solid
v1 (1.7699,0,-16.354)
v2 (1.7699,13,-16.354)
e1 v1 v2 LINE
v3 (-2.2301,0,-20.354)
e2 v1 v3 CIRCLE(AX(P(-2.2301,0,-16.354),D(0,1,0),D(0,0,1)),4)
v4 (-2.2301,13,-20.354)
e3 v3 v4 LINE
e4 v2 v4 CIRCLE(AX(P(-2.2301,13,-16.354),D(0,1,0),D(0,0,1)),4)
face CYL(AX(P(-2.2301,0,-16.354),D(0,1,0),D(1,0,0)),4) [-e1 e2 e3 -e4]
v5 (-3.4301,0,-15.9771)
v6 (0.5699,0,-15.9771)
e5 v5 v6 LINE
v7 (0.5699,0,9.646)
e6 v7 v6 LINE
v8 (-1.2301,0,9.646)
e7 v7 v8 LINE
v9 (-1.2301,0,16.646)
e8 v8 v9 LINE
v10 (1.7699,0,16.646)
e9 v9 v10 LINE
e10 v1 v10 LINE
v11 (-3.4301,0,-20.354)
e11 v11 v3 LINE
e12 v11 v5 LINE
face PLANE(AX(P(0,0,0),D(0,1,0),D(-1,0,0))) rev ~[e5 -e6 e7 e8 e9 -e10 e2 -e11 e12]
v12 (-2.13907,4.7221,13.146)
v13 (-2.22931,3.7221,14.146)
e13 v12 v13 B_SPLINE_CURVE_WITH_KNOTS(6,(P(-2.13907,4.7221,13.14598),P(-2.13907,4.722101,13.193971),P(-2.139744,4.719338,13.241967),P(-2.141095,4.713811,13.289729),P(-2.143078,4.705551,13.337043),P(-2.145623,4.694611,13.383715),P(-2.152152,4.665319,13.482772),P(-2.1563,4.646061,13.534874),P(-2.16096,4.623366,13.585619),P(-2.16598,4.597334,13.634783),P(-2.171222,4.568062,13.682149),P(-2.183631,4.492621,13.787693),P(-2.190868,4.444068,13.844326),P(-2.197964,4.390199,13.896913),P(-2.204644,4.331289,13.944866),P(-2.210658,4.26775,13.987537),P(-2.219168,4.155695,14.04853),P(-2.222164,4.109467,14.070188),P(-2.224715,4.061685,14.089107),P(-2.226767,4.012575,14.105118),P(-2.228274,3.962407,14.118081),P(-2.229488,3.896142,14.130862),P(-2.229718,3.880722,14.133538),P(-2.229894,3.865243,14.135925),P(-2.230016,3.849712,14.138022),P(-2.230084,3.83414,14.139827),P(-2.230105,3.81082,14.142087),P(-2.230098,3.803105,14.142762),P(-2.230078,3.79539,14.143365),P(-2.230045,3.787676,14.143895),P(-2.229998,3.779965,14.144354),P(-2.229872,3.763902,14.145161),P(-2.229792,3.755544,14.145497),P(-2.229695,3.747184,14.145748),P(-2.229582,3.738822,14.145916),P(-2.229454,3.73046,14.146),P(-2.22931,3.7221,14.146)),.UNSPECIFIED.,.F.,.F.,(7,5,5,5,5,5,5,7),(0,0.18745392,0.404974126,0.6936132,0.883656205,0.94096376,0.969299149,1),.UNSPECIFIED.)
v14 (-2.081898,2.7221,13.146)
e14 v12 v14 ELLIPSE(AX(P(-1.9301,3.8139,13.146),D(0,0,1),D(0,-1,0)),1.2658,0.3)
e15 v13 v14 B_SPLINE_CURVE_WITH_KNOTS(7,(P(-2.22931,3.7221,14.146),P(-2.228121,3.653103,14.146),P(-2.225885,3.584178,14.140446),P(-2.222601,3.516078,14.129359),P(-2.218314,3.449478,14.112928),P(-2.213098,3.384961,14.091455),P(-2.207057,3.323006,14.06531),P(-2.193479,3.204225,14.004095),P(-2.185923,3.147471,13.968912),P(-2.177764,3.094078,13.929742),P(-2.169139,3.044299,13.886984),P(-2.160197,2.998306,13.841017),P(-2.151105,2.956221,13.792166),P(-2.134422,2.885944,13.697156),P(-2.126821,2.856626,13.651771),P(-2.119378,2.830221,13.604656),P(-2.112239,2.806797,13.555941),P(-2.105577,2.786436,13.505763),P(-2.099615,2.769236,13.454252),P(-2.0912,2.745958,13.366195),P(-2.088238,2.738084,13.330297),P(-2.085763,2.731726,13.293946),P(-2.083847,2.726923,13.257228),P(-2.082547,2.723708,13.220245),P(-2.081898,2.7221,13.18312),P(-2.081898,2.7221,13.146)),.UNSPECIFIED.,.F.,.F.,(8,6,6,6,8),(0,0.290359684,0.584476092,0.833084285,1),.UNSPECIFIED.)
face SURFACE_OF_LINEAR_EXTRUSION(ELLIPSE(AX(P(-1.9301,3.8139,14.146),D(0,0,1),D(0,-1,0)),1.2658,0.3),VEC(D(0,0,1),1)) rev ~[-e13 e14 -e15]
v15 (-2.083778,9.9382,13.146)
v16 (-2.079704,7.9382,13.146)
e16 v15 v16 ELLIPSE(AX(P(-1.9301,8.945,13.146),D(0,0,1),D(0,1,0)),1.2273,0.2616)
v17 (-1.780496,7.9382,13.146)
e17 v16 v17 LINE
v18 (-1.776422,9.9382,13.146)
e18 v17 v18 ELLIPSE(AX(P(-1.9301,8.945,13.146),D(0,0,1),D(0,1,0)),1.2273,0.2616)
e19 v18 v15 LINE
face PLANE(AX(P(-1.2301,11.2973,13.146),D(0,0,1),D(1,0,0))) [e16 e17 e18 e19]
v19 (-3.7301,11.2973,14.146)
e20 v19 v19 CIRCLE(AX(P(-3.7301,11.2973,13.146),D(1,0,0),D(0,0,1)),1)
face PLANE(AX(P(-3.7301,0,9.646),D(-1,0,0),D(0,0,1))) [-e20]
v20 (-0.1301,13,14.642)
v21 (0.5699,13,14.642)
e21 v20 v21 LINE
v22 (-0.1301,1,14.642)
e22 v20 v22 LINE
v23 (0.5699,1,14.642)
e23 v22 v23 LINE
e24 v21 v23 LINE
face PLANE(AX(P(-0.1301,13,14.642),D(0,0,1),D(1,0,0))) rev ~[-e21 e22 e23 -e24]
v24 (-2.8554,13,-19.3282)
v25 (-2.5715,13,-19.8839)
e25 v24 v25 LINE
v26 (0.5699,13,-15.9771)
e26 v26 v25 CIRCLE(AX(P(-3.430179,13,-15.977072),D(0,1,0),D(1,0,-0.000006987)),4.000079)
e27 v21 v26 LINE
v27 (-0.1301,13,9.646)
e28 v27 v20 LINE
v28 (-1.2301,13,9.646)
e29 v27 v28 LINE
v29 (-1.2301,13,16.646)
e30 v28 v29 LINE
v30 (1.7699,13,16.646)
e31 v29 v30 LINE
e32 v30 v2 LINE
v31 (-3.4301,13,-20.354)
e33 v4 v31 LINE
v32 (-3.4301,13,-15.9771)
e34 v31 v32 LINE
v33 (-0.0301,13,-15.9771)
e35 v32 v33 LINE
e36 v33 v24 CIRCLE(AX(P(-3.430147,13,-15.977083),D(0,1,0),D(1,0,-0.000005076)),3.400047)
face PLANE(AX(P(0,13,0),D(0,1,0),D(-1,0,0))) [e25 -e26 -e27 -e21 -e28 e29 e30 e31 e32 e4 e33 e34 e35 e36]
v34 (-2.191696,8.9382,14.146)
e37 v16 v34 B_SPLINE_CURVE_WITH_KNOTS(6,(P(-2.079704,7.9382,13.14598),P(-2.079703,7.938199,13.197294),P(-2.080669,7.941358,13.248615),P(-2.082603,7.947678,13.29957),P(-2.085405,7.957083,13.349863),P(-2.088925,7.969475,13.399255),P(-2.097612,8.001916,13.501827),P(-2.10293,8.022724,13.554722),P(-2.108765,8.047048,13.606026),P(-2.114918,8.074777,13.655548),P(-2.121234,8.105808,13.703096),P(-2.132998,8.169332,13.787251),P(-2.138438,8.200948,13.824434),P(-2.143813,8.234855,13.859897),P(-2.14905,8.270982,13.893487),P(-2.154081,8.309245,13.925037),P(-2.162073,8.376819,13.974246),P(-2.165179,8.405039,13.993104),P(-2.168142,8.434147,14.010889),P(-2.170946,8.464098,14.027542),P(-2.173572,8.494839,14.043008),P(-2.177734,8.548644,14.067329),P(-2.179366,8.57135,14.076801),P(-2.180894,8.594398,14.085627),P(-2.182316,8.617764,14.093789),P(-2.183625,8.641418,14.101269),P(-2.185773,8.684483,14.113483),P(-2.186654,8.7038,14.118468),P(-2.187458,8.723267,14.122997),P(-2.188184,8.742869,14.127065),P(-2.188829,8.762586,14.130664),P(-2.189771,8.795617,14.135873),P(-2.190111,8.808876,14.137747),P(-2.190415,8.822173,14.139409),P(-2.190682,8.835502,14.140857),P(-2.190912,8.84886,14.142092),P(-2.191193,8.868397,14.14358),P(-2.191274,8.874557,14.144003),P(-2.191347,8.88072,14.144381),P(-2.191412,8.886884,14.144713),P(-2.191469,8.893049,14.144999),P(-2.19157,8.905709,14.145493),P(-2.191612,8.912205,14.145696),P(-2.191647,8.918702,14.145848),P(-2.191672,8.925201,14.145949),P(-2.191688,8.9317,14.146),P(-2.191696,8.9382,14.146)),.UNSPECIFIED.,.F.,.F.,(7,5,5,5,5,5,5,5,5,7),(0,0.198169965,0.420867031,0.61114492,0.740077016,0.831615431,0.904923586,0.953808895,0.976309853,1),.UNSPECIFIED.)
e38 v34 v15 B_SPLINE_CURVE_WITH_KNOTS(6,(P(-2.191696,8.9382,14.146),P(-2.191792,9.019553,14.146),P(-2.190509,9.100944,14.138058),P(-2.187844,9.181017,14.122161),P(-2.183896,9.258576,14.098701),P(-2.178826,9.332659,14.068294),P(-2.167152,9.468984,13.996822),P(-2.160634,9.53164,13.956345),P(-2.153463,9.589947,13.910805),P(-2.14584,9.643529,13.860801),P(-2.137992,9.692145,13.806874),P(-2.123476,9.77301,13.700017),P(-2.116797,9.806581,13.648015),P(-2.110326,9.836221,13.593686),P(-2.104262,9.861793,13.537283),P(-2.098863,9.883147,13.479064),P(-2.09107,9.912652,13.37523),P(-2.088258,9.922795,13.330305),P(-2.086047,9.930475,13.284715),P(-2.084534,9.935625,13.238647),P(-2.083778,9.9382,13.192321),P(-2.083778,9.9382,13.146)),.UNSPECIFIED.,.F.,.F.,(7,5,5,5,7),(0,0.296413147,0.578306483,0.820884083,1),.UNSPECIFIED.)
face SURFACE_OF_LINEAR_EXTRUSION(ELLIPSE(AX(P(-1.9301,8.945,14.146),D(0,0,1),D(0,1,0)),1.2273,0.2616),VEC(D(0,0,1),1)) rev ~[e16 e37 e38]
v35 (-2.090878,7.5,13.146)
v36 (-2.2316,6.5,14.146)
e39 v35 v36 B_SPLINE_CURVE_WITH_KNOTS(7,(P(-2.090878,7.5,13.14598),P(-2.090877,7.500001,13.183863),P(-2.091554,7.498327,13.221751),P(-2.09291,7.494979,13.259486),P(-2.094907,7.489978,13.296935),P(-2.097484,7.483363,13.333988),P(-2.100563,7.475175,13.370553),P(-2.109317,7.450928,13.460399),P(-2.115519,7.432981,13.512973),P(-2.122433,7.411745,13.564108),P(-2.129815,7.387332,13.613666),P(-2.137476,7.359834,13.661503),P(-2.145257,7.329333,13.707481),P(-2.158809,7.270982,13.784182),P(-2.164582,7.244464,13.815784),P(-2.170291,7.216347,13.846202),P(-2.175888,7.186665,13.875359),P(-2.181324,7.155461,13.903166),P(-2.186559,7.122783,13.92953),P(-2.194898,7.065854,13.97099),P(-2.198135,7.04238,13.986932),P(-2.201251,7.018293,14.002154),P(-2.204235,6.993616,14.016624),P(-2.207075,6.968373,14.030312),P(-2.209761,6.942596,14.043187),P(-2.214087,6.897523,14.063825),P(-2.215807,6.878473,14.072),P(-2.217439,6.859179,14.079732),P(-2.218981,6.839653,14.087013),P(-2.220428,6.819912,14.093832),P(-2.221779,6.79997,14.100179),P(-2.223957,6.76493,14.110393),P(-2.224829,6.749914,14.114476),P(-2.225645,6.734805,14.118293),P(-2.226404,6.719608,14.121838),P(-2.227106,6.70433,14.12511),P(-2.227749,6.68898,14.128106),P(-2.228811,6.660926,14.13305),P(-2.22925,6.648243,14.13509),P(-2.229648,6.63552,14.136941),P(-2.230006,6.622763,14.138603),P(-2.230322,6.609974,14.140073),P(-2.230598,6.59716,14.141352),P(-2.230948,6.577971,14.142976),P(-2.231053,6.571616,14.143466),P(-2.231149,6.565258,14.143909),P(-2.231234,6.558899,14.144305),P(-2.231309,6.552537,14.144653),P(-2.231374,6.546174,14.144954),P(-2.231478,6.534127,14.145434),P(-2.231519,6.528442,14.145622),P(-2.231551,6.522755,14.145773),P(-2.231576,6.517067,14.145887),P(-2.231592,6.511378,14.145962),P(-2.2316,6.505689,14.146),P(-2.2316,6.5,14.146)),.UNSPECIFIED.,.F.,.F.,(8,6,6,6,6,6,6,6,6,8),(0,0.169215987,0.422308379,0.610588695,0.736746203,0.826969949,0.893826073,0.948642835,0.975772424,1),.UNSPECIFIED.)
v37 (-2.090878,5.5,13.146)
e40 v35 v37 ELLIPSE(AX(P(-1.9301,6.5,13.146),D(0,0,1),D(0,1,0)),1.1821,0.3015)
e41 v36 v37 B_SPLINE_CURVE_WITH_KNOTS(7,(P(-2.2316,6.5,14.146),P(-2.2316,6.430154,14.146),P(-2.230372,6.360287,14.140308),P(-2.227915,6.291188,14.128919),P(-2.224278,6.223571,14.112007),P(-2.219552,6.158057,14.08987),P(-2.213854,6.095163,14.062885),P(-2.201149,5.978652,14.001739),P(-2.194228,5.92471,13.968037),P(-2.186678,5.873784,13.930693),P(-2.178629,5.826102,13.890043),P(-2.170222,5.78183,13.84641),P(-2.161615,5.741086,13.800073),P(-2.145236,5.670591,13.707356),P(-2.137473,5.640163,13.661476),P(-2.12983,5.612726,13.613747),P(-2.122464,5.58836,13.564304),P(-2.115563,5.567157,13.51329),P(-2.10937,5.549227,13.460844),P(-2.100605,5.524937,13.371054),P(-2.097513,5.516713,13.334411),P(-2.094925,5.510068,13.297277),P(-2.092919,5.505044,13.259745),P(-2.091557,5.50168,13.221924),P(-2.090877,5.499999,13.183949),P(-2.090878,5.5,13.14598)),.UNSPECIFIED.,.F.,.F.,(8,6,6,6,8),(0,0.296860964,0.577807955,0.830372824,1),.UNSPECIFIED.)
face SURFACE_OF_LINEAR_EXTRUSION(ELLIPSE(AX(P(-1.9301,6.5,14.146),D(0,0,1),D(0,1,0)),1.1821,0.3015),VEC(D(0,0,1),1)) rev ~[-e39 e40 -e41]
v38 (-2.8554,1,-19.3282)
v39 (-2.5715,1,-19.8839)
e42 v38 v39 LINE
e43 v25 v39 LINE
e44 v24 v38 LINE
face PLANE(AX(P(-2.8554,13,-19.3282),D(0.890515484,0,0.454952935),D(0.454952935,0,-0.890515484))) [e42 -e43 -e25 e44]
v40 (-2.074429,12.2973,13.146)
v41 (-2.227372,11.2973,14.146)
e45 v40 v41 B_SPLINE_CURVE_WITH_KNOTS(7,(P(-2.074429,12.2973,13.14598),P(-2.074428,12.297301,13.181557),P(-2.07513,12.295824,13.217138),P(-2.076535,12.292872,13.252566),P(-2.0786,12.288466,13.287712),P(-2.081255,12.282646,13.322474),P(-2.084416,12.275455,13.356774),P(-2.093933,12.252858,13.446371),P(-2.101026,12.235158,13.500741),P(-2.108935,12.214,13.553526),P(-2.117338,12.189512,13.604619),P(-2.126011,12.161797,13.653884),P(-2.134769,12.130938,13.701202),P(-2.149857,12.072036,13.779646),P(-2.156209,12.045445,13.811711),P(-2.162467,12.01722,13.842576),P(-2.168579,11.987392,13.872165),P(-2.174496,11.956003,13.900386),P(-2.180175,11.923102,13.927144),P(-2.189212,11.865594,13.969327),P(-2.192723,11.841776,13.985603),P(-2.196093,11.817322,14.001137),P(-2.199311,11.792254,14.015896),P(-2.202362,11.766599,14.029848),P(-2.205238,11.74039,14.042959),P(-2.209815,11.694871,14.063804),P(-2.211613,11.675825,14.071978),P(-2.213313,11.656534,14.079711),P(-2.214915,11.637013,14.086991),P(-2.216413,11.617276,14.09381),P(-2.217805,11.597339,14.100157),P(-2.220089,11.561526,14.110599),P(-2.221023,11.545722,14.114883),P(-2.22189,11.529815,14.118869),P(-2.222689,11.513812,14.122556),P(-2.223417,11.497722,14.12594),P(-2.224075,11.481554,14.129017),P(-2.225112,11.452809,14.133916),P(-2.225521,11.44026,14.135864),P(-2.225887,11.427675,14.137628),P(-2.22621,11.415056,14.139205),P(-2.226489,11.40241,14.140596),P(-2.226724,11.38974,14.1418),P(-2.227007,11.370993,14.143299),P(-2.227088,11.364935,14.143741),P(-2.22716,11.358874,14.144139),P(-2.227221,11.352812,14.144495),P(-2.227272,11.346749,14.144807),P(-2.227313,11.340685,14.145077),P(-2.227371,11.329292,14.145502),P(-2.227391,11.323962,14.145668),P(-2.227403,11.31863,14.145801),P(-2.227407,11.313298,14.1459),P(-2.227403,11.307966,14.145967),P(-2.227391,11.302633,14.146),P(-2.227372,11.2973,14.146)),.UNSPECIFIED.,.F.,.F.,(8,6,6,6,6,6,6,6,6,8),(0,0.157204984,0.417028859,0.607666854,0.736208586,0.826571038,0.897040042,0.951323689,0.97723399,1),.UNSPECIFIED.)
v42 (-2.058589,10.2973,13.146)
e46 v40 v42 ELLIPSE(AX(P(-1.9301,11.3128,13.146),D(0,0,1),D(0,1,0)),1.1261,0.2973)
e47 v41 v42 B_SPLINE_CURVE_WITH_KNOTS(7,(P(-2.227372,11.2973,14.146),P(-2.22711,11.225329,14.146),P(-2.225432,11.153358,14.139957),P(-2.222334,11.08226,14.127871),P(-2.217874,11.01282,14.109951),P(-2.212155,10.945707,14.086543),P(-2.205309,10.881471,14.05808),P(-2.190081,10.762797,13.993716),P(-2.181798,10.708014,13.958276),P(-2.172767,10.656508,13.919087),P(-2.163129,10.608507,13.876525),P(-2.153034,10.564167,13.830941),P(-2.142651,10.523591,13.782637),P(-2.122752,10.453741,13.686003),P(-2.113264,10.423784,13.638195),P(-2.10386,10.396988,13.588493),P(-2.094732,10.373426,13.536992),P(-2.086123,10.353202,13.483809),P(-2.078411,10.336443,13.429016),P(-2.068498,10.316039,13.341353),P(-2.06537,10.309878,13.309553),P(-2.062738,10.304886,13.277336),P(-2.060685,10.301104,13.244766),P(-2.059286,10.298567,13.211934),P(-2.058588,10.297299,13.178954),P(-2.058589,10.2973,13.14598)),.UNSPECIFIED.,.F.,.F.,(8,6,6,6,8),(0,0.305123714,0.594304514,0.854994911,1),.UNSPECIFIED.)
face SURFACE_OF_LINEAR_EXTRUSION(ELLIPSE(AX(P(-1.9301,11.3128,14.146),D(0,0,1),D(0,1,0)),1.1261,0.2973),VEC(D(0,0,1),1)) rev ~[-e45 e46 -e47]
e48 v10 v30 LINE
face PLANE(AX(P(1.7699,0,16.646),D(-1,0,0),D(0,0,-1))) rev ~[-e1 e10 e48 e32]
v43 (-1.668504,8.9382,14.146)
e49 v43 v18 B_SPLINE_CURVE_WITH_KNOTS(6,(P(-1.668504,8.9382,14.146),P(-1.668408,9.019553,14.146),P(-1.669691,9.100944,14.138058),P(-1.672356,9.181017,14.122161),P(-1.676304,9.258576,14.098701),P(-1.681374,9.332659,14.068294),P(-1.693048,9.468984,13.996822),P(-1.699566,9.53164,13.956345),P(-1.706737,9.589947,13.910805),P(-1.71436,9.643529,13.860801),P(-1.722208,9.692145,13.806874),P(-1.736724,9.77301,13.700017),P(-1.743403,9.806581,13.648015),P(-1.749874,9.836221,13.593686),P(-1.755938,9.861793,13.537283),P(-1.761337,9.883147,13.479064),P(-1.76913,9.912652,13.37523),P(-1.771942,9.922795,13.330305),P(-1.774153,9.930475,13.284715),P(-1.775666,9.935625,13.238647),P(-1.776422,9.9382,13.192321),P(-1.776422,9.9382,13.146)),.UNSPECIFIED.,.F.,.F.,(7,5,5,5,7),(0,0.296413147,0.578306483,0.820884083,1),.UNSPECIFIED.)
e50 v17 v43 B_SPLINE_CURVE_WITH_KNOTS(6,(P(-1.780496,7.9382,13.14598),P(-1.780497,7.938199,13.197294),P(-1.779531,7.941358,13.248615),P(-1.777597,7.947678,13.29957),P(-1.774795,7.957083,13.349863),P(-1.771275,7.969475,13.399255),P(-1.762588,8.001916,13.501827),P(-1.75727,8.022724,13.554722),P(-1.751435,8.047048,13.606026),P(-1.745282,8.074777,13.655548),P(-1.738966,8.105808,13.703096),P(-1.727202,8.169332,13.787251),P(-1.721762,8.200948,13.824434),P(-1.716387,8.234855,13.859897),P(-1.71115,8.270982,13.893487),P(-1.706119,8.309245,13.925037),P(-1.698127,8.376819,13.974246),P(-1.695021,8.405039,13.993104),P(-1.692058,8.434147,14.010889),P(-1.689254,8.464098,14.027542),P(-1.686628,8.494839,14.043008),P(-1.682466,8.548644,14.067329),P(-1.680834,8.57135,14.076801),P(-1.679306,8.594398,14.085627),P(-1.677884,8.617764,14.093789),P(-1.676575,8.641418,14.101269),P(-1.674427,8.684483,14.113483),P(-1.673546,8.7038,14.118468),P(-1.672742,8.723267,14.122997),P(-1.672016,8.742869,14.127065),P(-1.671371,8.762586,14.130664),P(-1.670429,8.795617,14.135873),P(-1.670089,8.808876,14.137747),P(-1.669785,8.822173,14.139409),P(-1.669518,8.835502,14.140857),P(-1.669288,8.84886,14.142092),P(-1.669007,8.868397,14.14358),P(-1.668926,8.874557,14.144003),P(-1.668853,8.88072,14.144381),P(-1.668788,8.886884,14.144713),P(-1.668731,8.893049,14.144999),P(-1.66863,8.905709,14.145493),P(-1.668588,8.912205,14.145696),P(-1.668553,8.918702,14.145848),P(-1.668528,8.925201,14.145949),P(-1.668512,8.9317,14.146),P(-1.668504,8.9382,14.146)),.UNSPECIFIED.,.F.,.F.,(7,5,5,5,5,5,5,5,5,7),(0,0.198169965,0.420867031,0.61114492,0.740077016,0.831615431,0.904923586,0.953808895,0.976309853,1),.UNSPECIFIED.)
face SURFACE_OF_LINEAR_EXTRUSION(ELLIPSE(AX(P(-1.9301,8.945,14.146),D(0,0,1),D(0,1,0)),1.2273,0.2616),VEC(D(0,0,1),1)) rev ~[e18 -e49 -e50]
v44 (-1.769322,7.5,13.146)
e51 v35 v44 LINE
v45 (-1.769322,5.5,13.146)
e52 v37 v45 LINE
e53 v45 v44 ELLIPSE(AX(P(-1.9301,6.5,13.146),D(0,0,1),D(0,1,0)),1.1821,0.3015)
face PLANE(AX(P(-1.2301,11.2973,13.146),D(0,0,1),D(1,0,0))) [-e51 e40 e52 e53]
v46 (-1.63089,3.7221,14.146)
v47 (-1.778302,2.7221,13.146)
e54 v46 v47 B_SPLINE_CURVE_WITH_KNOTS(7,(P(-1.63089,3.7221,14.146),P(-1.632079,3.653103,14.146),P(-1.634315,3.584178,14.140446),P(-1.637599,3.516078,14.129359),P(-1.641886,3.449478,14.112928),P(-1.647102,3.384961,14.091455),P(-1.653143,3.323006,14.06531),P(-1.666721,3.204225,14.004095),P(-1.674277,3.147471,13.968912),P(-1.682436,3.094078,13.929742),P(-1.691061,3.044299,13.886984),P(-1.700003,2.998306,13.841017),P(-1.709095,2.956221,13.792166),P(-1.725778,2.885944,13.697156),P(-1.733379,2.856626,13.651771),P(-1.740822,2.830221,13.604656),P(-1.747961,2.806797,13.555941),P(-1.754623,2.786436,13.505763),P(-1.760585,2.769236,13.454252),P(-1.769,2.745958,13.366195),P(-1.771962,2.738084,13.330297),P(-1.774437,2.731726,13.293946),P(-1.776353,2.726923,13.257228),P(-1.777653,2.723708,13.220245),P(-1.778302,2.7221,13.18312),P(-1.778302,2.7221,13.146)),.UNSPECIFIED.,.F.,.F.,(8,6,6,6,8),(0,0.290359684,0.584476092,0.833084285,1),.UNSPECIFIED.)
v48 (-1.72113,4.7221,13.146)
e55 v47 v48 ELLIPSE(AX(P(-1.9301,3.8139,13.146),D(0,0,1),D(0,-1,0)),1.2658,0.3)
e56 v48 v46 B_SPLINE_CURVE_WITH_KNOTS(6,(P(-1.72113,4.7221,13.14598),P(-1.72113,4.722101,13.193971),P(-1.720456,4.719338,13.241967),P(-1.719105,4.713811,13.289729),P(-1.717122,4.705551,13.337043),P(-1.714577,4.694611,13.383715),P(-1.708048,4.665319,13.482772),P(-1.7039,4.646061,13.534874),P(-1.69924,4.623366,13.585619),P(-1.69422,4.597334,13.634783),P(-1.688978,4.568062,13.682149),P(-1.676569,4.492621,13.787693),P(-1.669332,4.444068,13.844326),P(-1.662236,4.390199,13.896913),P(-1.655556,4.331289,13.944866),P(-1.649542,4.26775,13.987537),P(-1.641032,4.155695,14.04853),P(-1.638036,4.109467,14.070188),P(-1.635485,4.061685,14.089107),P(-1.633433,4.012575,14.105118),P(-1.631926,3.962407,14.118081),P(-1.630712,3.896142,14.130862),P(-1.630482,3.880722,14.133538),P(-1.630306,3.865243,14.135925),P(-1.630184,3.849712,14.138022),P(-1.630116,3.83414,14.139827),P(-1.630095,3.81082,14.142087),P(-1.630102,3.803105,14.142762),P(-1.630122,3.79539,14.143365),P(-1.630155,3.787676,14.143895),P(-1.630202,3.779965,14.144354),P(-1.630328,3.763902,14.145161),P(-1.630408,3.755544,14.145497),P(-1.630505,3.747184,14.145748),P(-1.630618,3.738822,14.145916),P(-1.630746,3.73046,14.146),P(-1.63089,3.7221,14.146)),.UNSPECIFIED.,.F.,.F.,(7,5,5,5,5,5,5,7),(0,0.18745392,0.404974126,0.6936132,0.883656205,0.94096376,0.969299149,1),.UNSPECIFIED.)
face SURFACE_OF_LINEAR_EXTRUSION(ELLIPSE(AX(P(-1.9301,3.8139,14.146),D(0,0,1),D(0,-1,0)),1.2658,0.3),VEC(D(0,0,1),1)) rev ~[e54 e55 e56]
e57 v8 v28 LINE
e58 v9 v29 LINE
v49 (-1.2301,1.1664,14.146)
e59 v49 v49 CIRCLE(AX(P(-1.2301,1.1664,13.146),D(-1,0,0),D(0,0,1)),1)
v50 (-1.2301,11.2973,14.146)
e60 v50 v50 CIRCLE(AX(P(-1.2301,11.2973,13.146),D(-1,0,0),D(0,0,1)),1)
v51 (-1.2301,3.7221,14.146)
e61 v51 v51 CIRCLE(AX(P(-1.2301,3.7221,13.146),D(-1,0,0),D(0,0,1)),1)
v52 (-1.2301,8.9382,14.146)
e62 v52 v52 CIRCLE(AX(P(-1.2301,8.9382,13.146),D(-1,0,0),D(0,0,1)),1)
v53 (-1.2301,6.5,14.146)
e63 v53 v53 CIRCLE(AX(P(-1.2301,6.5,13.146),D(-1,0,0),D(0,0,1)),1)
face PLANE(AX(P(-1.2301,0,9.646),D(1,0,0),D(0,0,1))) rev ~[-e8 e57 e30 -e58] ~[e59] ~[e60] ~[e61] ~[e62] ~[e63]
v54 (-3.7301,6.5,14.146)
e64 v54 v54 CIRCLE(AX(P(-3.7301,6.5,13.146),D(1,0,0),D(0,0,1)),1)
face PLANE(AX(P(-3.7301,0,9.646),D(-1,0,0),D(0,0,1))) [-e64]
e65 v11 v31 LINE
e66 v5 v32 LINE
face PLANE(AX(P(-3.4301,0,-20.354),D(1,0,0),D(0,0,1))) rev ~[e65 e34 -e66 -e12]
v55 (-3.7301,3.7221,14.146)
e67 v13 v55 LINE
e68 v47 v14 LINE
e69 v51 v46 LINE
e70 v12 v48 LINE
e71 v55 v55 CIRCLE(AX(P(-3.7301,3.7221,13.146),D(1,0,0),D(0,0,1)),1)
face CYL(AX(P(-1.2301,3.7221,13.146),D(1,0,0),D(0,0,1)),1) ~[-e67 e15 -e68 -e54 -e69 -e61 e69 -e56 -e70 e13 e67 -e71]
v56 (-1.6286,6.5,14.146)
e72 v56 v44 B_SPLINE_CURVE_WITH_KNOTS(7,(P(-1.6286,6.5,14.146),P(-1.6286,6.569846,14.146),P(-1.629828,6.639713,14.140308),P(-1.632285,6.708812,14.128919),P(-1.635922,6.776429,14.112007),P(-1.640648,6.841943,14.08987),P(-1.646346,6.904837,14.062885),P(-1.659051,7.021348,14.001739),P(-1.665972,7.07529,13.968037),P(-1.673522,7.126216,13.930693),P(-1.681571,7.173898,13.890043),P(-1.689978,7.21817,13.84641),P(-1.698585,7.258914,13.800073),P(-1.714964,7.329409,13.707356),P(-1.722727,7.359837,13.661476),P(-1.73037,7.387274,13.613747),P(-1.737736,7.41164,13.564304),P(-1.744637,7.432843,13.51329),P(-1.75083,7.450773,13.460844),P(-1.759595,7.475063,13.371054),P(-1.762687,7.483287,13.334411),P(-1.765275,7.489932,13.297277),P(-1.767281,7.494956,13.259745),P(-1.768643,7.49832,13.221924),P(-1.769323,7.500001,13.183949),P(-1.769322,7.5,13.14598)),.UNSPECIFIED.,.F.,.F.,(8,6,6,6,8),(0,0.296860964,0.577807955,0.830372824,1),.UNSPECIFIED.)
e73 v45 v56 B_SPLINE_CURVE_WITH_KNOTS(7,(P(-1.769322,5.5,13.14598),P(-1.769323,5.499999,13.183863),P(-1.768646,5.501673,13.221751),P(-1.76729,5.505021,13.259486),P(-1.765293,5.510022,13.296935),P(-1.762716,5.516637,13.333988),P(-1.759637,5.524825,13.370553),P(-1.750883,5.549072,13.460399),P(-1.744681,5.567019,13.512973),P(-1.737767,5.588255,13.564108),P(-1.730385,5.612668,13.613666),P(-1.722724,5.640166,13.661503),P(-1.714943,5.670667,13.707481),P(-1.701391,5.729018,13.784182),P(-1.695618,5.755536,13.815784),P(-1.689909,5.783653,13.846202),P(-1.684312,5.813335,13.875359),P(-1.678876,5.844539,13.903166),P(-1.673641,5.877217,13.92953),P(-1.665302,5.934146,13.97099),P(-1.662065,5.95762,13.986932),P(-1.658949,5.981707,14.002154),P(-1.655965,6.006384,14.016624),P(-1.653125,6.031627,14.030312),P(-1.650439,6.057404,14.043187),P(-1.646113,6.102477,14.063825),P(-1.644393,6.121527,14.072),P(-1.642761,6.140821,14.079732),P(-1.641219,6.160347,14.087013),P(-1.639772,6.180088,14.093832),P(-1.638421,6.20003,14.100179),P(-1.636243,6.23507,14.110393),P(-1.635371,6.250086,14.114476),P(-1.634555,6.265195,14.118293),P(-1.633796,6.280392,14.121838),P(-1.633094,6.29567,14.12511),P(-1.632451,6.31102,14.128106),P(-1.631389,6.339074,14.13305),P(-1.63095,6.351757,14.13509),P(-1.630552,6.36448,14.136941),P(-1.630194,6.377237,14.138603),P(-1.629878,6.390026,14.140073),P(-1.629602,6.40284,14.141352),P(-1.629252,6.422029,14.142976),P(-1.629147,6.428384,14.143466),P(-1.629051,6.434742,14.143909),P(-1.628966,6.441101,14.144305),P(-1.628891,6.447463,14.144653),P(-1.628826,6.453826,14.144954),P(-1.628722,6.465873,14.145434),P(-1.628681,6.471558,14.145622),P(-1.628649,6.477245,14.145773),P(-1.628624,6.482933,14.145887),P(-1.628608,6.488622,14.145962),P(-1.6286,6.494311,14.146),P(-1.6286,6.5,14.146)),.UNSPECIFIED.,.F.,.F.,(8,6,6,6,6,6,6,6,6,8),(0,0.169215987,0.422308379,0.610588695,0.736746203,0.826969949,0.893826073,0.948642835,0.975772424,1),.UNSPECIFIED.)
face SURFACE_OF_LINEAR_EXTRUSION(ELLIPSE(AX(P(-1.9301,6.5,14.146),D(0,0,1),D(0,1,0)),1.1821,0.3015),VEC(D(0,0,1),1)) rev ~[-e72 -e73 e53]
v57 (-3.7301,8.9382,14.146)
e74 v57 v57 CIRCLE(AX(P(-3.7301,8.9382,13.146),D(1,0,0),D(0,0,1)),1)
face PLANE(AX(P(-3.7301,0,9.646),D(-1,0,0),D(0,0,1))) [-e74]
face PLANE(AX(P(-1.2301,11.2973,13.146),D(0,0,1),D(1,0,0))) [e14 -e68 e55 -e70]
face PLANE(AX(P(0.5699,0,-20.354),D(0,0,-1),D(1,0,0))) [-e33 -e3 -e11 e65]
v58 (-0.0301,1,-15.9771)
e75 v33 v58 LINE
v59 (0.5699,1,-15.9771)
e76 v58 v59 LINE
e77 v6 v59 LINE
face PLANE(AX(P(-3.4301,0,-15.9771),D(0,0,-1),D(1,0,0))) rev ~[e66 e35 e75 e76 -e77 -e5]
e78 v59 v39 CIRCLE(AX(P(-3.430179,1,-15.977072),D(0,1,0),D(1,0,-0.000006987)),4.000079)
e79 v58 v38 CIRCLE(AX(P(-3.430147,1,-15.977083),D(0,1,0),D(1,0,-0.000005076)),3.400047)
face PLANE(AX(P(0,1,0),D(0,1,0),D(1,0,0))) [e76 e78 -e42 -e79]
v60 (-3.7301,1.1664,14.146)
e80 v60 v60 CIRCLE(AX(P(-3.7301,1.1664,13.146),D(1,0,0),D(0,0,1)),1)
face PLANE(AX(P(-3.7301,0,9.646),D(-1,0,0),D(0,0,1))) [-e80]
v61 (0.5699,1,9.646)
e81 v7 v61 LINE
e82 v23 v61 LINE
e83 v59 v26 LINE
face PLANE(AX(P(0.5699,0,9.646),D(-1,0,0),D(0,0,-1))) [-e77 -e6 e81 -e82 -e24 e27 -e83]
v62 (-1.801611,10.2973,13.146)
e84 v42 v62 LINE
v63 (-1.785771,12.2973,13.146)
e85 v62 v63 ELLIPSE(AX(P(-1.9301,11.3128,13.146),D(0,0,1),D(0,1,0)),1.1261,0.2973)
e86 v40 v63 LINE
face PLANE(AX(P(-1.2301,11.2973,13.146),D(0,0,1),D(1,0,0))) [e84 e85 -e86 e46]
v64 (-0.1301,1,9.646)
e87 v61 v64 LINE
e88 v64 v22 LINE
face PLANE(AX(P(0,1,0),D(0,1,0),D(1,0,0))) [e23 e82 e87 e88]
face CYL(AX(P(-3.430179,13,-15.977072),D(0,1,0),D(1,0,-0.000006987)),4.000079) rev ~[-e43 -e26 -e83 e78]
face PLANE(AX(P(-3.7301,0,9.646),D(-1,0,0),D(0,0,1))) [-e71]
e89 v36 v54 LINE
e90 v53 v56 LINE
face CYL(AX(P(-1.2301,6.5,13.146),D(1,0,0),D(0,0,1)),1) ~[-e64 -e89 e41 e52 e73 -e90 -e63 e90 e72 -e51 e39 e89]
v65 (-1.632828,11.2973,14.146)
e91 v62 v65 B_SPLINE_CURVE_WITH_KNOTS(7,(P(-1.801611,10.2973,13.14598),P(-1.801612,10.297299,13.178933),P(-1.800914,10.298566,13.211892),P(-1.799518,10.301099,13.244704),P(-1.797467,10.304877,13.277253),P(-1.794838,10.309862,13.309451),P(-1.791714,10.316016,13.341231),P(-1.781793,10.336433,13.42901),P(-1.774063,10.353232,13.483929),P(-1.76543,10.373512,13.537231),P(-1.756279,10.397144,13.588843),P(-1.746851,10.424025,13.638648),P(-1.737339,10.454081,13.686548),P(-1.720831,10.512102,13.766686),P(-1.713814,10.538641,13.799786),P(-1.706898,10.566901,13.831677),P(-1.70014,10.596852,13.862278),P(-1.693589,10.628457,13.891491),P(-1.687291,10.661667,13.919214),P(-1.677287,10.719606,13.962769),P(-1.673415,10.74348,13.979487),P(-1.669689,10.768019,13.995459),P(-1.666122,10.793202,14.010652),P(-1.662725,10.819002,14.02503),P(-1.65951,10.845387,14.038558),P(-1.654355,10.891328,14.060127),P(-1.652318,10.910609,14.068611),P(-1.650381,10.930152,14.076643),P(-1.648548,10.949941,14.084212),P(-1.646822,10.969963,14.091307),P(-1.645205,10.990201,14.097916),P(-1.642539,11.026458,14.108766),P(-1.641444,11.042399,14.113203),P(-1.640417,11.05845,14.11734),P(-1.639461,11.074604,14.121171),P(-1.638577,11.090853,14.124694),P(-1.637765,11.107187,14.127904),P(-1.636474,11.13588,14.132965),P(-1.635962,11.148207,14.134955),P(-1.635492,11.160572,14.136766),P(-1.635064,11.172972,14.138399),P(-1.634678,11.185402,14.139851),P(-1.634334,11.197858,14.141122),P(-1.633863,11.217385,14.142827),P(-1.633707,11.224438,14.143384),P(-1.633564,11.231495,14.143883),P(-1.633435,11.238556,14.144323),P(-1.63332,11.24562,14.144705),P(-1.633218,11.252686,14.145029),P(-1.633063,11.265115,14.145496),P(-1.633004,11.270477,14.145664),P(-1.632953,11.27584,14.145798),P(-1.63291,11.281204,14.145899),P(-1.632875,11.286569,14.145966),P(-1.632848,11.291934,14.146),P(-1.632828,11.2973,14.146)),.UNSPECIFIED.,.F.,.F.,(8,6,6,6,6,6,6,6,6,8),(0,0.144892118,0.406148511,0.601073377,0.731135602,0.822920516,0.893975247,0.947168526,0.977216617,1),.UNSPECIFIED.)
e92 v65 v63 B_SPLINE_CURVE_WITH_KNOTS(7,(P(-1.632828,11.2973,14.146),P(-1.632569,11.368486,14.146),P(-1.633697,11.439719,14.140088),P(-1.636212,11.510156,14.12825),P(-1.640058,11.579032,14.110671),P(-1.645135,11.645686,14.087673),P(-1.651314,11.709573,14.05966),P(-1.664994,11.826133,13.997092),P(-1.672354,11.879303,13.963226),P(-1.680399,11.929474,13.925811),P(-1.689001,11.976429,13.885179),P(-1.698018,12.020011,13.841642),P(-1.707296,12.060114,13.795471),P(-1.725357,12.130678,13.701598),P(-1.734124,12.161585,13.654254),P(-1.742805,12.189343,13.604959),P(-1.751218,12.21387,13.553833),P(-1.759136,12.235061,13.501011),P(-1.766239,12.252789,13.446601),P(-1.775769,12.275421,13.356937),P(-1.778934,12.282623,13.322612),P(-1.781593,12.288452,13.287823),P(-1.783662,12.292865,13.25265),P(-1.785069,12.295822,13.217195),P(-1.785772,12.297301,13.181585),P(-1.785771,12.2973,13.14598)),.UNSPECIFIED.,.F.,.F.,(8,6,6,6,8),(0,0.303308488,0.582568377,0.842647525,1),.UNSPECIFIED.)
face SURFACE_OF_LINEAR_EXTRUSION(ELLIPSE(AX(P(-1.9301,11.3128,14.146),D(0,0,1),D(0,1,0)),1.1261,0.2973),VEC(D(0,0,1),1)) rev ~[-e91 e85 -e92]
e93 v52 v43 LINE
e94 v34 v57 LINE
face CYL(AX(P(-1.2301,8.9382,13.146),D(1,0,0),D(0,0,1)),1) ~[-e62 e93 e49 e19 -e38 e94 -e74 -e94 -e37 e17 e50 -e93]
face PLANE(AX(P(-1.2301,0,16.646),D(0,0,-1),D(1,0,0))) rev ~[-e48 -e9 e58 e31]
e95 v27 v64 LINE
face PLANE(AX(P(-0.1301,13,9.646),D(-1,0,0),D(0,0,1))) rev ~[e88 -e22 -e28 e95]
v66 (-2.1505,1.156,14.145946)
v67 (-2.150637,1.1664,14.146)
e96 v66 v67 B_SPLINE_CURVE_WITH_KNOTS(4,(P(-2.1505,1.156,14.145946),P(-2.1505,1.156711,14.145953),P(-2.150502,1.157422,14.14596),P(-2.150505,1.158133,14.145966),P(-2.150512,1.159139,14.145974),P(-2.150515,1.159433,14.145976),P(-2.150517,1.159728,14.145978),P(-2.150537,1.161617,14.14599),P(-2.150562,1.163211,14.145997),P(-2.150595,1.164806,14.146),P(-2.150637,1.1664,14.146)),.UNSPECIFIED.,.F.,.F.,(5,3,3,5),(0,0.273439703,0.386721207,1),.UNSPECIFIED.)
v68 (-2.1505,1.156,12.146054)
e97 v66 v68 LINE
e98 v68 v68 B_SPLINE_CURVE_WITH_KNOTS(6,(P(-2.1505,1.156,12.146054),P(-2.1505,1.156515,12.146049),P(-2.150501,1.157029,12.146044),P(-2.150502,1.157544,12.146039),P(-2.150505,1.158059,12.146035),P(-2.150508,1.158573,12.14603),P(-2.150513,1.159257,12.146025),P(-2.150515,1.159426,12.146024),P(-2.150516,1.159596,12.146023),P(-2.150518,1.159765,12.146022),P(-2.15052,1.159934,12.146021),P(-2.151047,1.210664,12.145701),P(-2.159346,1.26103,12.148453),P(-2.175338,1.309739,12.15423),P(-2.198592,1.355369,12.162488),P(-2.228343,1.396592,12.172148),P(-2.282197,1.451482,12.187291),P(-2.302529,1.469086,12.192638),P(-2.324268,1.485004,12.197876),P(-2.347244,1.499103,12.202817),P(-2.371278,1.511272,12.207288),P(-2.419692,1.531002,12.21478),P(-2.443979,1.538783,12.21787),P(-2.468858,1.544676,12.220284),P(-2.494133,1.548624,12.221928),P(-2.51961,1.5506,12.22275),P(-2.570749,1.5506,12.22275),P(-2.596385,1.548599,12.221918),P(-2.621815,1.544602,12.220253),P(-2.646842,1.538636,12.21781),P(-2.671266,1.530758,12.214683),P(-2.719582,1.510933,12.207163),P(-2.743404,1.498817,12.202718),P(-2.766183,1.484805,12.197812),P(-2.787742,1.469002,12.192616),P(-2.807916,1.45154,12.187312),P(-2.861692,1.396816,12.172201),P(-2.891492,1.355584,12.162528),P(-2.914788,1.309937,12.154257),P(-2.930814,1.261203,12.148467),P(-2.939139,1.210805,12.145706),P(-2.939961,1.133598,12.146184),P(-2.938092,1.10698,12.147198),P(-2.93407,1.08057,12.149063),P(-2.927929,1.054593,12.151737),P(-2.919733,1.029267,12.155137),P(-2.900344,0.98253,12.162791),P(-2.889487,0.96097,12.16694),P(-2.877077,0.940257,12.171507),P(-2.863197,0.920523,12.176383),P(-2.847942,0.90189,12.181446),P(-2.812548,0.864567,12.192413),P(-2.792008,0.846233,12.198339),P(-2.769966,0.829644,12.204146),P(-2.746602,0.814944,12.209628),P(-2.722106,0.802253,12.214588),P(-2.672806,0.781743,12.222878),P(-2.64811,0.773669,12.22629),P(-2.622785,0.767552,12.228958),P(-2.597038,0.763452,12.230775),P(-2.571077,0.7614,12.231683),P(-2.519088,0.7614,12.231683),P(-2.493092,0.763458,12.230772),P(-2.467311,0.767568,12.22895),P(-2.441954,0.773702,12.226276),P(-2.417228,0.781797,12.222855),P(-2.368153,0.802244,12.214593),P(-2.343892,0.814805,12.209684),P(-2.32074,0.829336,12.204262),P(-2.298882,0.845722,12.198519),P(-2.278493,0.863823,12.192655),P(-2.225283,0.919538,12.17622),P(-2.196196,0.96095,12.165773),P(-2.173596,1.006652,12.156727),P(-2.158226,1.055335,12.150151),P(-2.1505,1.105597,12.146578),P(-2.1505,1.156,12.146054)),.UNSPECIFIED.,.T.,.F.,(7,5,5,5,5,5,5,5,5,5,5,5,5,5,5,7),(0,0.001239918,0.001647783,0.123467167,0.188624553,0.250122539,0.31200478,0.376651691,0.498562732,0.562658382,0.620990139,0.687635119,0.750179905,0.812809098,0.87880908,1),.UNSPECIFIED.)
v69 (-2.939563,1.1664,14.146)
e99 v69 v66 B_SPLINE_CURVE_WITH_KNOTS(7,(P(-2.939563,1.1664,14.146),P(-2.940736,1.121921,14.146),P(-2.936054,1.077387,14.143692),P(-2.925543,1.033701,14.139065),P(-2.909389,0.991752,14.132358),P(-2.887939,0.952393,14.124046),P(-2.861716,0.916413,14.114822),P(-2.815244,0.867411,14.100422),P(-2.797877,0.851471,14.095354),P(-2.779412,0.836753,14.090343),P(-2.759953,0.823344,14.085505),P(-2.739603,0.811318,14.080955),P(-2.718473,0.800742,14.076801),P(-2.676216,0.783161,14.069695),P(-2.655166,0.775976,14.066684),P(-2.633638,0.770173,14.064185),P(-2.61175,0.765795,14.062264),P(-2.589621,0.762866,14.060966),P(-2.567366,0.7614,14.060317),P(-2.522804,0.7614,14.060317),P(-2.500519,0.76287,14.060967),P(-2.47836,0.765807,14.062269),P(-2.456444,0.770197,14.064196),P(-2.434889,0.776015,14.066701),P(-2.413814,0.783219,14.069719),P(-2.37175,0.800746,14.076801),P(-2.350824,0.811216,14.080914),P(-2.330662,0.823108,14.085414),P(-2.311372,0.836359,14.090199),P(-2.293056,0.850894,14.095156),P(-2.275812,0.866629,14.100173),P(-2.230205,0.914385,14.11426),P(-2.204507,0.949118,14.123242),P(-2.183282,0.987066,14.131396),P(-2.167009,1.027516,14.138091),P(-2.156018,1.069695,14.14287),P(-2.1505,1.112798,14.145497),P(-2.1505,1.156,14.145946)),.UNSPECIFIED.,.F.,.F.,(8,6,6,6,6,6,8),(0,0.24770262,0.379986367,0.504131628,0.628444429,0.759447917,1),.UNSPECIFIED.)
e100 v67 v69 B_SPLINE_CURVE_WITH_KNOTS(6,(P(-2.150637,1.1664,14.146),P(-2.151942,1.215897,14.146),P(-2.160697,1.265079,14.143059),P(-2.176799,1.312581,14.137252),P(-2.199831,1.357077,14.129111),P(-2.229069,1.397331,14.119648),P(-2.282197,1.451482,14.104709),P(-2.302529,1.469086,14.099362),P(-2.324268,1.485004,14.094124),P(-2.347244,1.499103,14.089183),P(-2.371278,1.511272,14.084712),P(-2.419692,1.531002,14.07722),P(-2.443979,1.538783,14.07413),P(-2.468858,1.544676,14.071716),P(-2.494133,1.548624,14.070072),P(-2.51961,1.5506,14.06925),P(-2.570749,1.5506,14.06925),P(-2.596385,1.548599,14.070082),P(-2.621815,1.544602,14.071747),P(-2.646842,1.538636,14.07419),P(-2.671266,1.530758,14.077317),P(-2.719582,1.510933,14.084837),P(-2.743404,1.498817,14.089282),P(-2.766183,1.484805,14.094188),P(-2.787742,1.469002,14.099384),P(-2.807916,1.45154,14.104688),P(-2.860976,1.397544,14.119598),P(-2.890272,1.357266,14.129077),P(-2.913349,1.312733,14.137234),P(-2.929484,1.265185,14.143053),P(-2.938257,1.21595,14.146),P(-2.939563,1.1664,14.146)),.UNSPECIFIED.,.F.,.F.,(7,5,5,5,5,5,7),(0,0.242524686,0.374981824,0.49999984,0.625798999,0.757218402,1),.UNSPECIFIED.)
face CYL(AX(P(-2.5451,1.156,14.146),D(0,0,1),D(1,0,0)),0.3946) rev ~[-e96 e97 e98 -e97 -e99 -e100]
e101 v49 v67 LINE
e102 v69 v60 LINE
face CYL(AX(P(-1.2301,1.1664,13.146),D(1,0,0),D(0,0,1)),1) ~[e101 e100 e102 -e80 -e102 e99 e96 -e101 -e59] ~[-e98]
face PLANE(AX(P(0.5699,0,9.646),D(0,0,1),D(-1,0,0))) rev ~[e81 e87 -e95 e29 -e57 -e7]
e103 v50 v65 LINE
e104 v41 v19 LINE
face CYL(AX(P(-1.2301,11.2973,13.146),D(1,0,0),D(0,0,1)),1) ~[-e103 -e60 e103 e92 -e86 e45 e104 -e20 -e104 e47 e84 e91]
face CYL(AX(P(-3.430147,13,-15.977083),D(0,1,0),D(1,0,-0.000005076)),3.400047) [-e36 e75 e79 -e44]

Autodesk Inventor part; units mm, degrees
ref_plane "YZ Plane" through (0, 0, 0) normal (1, 0, 0) x (0, 1, 0)
ref_plane "XZ Plane" through (0, 0, 0) normal (0, 1, 0) x (-1, 0, 0)
ref_plane "XY Plane" through (0, 0, 0) normal (0, 0, 1) x (1, 0, 0)
sketch "Skizze1" plane through (0, 0, 0) normal (0, 1, 0) x (-1, 0, 0)
  line L0 (1.2301, 16.646) -> (-1.7699, 16.646)
  line L1 (-1.7699, 16.646) -> (-1.7699, 9.646)
  line L2 (-1.7699, 9.646) -> (1.2301, 9.646)
  line L3 (1.2301, 9.646) -> (1.2301, 16.646)
  line L4 (-1.7699, 9.646) -> (-0.5699, 9.646)
  line L5 (-0.5699, 9.646) -> (-0.5699, -20.354)
  line L6 (-0.5699, -20.354) -> (-1.7699, -20.354)
  line L7 (-1.7699, -20.354) -> (-1.7699, 9.646)
  line L8 (-0.5699, -20.354) -> (3.4301, -20.354)
  line L9 (3.4301, -20.354) -> (3.4301, -15.9771)
  line L10 (3.4301, -15.9771) -> (-0.5699, -15.9771)
  line L11 (-0.5699, -15.9771) -> (-0.5699, -20.354)
  point P0 (0, 0)
  dimension "d0" = 3
  dimension "d1" = 7
  dimension "d2" = 1.2
  dimension "d3" = 30
  dimension "d4" = 4
extrude "Extrusion1" add sketch "Skizze1" along normal blind 13
fillet "Rundung1" radius 4 1 edges at (1.7699, 6.5, -20.354)
sketch "Skizze2" plane through (0, 13, 0) normal (0, 1, 0) x (1, 0, 0)
  line L0 (0.5699, -9.646) -> (-1.2301, -9.646) projected
  line L1 (0.5699, -9.646) -> (-0.1301, -9.646)
  line L2 (-0.1301, -9.646) -> (-0.1301, -14.642)
  line L3 (-0.1301, -14.642) -> (0.5699, -14.642)
  line L4 (0.5699, -14.642) -> (0.5699, -9.646)
  point P0 (0, 0)
  point P1 (-0.3301, -9.646)
  point P2 (-0.1301, -9.646)
  dimension "d8" = 5
  dimension "d9" = 0.7
sketch "Skizze3" plane through (0, 13, 0) normal (0, 1, 0) x (1, 0, 0)
  line L0 (-3.4301, 20.354) -> (-3.4301, 15.9771) projected
  line L1 (-3.4301, 15.9771) -> (0.5699, 15.9771) projected
  arc A0 (0.5699, 15.9771) -> (-2.5715, 19.8839) centre (-3.4301, 15.9771) ccw
  line L2 (0.5699, 15.9771) -> (0.5699, -9.646) projected
  line L3 (0.5699, 15.9771) -> (-0.0301, 15.9771)
  arc A1 (-0.0301, 15.9771) -> (-2.8554, 19.3282) centre (-3.4301, 15.9771) ccw
  line L4 (-2.8554, 19.3282) -> (-2.5715, 19.8839)
  point P0 (0, 0)
  dimension "d10" = 0.6
extrude "Extrusion2" cut sketch "Skizze3" against normal blind 12
extrude "Extrusion3" cut sketch "Skizze2" against normal blind 12
sketch "Skizze4" plane through (-1.2301, 0, 9.646) normal (-1, 0, 0) x (0, 0, 1)
  line L0 (0, 0) -> (7, 0) projected
  line L1 (7, 0) -> (3.5, 0)
  line L2 (4.996, 13) -> (0, 13) projected
  line L3 (3.5, 13) -> (3.5, 0)
  line L4 (3.5, 6.5) -> (7, 6.5)
  line L5 (7, 0) -> (7, 13) projected
  circle A0 centre (3.5, 6.5) radius 1
  circle A1 centre (3.5, 1.1664) radius 1
  circle A2 centre (3.5, 3.7221) radius 1
  circle A3 centre (3.5, 8.9382) radius 1
  circle A4 centre (3.5, 11.2973) radius 1
  point P0 (-9.646, 0)
  dimension "d15" = 2
  dimension "d16" = 2
  dimension "d17" = 2
  dimension "d18" = 2
  dimension "d19" = 2
extrude "Extrusion4" add sketch "Skizze4" along normal blind 2.5 contours A4 L3 | L3 A4 | A3 L3 | L3 A3 | A1 L3 | L3 A1 | A0 L3 L4 | L4 L3 A0 | A2 L3 | L3 A2 | L3 A0
ref_plane "Arbeitsebene1" through (-1.2301, 11.2973, 14.146) normal (0, 0, 1) x (1, 0, 0)
sketch "Skizze5" plane through (-1.2301, 11.2973, 14.146) normal (0, 0, 1) x (1, 0, 0)
  line L0 (-2.2, -11.2973) -> (-2.2, 1.7027) projected
  ellipse E0 centre (-0.7, -4.7973) end of major axis (-0.7, -3.6152) minor radius 0.3015
  ellipse E1 centre (-0.7, -2.3523) end of major axis (-0.7, -1.125) minor radius 0.2616
  line L1 (0, -1.3591) -> (-2.5, -1.3591) projected
  ellipse E2 centre (-0.7, 0.0155) end of major axis (-0.7, 1.1416) minor radius 0.2973
  circle A0 centre (-1.25, -10.1312) radius 0.3762
  ellipse E3 centre (-0.7, -7.4834) end of major axis (-0.7, -8.7492) minor radius 0.3
  line L2 (0, -8.5752) -> (-2.5, -8.5752) projected
  point P0 (1.2301, -11.2973)
  point P1 (-0.8518, -8.5752)
  point P2 (-0.5482, -8.5752)
extrude "Extrusion5" cut sketch "Skizze5" against normal blind 1 contours E1 L1 | L1 E1 | E3 L2 | E0 | E2 picked at (-0.7898, -7.5169)
sketch "Skizze6" plane through (-1.2301, 11.2973, 14.146) normal (0, 0, 1) x (1, 0, 0)
  circle A0 centre (-1.315, -10.1413) radius 0.3946
  point P0 (1.2301, -11.2973)
extrude "Extrusion6" cut sketch "Skizze6" against normal blind 2.5
properties part number "hook_applicator_slide in"
